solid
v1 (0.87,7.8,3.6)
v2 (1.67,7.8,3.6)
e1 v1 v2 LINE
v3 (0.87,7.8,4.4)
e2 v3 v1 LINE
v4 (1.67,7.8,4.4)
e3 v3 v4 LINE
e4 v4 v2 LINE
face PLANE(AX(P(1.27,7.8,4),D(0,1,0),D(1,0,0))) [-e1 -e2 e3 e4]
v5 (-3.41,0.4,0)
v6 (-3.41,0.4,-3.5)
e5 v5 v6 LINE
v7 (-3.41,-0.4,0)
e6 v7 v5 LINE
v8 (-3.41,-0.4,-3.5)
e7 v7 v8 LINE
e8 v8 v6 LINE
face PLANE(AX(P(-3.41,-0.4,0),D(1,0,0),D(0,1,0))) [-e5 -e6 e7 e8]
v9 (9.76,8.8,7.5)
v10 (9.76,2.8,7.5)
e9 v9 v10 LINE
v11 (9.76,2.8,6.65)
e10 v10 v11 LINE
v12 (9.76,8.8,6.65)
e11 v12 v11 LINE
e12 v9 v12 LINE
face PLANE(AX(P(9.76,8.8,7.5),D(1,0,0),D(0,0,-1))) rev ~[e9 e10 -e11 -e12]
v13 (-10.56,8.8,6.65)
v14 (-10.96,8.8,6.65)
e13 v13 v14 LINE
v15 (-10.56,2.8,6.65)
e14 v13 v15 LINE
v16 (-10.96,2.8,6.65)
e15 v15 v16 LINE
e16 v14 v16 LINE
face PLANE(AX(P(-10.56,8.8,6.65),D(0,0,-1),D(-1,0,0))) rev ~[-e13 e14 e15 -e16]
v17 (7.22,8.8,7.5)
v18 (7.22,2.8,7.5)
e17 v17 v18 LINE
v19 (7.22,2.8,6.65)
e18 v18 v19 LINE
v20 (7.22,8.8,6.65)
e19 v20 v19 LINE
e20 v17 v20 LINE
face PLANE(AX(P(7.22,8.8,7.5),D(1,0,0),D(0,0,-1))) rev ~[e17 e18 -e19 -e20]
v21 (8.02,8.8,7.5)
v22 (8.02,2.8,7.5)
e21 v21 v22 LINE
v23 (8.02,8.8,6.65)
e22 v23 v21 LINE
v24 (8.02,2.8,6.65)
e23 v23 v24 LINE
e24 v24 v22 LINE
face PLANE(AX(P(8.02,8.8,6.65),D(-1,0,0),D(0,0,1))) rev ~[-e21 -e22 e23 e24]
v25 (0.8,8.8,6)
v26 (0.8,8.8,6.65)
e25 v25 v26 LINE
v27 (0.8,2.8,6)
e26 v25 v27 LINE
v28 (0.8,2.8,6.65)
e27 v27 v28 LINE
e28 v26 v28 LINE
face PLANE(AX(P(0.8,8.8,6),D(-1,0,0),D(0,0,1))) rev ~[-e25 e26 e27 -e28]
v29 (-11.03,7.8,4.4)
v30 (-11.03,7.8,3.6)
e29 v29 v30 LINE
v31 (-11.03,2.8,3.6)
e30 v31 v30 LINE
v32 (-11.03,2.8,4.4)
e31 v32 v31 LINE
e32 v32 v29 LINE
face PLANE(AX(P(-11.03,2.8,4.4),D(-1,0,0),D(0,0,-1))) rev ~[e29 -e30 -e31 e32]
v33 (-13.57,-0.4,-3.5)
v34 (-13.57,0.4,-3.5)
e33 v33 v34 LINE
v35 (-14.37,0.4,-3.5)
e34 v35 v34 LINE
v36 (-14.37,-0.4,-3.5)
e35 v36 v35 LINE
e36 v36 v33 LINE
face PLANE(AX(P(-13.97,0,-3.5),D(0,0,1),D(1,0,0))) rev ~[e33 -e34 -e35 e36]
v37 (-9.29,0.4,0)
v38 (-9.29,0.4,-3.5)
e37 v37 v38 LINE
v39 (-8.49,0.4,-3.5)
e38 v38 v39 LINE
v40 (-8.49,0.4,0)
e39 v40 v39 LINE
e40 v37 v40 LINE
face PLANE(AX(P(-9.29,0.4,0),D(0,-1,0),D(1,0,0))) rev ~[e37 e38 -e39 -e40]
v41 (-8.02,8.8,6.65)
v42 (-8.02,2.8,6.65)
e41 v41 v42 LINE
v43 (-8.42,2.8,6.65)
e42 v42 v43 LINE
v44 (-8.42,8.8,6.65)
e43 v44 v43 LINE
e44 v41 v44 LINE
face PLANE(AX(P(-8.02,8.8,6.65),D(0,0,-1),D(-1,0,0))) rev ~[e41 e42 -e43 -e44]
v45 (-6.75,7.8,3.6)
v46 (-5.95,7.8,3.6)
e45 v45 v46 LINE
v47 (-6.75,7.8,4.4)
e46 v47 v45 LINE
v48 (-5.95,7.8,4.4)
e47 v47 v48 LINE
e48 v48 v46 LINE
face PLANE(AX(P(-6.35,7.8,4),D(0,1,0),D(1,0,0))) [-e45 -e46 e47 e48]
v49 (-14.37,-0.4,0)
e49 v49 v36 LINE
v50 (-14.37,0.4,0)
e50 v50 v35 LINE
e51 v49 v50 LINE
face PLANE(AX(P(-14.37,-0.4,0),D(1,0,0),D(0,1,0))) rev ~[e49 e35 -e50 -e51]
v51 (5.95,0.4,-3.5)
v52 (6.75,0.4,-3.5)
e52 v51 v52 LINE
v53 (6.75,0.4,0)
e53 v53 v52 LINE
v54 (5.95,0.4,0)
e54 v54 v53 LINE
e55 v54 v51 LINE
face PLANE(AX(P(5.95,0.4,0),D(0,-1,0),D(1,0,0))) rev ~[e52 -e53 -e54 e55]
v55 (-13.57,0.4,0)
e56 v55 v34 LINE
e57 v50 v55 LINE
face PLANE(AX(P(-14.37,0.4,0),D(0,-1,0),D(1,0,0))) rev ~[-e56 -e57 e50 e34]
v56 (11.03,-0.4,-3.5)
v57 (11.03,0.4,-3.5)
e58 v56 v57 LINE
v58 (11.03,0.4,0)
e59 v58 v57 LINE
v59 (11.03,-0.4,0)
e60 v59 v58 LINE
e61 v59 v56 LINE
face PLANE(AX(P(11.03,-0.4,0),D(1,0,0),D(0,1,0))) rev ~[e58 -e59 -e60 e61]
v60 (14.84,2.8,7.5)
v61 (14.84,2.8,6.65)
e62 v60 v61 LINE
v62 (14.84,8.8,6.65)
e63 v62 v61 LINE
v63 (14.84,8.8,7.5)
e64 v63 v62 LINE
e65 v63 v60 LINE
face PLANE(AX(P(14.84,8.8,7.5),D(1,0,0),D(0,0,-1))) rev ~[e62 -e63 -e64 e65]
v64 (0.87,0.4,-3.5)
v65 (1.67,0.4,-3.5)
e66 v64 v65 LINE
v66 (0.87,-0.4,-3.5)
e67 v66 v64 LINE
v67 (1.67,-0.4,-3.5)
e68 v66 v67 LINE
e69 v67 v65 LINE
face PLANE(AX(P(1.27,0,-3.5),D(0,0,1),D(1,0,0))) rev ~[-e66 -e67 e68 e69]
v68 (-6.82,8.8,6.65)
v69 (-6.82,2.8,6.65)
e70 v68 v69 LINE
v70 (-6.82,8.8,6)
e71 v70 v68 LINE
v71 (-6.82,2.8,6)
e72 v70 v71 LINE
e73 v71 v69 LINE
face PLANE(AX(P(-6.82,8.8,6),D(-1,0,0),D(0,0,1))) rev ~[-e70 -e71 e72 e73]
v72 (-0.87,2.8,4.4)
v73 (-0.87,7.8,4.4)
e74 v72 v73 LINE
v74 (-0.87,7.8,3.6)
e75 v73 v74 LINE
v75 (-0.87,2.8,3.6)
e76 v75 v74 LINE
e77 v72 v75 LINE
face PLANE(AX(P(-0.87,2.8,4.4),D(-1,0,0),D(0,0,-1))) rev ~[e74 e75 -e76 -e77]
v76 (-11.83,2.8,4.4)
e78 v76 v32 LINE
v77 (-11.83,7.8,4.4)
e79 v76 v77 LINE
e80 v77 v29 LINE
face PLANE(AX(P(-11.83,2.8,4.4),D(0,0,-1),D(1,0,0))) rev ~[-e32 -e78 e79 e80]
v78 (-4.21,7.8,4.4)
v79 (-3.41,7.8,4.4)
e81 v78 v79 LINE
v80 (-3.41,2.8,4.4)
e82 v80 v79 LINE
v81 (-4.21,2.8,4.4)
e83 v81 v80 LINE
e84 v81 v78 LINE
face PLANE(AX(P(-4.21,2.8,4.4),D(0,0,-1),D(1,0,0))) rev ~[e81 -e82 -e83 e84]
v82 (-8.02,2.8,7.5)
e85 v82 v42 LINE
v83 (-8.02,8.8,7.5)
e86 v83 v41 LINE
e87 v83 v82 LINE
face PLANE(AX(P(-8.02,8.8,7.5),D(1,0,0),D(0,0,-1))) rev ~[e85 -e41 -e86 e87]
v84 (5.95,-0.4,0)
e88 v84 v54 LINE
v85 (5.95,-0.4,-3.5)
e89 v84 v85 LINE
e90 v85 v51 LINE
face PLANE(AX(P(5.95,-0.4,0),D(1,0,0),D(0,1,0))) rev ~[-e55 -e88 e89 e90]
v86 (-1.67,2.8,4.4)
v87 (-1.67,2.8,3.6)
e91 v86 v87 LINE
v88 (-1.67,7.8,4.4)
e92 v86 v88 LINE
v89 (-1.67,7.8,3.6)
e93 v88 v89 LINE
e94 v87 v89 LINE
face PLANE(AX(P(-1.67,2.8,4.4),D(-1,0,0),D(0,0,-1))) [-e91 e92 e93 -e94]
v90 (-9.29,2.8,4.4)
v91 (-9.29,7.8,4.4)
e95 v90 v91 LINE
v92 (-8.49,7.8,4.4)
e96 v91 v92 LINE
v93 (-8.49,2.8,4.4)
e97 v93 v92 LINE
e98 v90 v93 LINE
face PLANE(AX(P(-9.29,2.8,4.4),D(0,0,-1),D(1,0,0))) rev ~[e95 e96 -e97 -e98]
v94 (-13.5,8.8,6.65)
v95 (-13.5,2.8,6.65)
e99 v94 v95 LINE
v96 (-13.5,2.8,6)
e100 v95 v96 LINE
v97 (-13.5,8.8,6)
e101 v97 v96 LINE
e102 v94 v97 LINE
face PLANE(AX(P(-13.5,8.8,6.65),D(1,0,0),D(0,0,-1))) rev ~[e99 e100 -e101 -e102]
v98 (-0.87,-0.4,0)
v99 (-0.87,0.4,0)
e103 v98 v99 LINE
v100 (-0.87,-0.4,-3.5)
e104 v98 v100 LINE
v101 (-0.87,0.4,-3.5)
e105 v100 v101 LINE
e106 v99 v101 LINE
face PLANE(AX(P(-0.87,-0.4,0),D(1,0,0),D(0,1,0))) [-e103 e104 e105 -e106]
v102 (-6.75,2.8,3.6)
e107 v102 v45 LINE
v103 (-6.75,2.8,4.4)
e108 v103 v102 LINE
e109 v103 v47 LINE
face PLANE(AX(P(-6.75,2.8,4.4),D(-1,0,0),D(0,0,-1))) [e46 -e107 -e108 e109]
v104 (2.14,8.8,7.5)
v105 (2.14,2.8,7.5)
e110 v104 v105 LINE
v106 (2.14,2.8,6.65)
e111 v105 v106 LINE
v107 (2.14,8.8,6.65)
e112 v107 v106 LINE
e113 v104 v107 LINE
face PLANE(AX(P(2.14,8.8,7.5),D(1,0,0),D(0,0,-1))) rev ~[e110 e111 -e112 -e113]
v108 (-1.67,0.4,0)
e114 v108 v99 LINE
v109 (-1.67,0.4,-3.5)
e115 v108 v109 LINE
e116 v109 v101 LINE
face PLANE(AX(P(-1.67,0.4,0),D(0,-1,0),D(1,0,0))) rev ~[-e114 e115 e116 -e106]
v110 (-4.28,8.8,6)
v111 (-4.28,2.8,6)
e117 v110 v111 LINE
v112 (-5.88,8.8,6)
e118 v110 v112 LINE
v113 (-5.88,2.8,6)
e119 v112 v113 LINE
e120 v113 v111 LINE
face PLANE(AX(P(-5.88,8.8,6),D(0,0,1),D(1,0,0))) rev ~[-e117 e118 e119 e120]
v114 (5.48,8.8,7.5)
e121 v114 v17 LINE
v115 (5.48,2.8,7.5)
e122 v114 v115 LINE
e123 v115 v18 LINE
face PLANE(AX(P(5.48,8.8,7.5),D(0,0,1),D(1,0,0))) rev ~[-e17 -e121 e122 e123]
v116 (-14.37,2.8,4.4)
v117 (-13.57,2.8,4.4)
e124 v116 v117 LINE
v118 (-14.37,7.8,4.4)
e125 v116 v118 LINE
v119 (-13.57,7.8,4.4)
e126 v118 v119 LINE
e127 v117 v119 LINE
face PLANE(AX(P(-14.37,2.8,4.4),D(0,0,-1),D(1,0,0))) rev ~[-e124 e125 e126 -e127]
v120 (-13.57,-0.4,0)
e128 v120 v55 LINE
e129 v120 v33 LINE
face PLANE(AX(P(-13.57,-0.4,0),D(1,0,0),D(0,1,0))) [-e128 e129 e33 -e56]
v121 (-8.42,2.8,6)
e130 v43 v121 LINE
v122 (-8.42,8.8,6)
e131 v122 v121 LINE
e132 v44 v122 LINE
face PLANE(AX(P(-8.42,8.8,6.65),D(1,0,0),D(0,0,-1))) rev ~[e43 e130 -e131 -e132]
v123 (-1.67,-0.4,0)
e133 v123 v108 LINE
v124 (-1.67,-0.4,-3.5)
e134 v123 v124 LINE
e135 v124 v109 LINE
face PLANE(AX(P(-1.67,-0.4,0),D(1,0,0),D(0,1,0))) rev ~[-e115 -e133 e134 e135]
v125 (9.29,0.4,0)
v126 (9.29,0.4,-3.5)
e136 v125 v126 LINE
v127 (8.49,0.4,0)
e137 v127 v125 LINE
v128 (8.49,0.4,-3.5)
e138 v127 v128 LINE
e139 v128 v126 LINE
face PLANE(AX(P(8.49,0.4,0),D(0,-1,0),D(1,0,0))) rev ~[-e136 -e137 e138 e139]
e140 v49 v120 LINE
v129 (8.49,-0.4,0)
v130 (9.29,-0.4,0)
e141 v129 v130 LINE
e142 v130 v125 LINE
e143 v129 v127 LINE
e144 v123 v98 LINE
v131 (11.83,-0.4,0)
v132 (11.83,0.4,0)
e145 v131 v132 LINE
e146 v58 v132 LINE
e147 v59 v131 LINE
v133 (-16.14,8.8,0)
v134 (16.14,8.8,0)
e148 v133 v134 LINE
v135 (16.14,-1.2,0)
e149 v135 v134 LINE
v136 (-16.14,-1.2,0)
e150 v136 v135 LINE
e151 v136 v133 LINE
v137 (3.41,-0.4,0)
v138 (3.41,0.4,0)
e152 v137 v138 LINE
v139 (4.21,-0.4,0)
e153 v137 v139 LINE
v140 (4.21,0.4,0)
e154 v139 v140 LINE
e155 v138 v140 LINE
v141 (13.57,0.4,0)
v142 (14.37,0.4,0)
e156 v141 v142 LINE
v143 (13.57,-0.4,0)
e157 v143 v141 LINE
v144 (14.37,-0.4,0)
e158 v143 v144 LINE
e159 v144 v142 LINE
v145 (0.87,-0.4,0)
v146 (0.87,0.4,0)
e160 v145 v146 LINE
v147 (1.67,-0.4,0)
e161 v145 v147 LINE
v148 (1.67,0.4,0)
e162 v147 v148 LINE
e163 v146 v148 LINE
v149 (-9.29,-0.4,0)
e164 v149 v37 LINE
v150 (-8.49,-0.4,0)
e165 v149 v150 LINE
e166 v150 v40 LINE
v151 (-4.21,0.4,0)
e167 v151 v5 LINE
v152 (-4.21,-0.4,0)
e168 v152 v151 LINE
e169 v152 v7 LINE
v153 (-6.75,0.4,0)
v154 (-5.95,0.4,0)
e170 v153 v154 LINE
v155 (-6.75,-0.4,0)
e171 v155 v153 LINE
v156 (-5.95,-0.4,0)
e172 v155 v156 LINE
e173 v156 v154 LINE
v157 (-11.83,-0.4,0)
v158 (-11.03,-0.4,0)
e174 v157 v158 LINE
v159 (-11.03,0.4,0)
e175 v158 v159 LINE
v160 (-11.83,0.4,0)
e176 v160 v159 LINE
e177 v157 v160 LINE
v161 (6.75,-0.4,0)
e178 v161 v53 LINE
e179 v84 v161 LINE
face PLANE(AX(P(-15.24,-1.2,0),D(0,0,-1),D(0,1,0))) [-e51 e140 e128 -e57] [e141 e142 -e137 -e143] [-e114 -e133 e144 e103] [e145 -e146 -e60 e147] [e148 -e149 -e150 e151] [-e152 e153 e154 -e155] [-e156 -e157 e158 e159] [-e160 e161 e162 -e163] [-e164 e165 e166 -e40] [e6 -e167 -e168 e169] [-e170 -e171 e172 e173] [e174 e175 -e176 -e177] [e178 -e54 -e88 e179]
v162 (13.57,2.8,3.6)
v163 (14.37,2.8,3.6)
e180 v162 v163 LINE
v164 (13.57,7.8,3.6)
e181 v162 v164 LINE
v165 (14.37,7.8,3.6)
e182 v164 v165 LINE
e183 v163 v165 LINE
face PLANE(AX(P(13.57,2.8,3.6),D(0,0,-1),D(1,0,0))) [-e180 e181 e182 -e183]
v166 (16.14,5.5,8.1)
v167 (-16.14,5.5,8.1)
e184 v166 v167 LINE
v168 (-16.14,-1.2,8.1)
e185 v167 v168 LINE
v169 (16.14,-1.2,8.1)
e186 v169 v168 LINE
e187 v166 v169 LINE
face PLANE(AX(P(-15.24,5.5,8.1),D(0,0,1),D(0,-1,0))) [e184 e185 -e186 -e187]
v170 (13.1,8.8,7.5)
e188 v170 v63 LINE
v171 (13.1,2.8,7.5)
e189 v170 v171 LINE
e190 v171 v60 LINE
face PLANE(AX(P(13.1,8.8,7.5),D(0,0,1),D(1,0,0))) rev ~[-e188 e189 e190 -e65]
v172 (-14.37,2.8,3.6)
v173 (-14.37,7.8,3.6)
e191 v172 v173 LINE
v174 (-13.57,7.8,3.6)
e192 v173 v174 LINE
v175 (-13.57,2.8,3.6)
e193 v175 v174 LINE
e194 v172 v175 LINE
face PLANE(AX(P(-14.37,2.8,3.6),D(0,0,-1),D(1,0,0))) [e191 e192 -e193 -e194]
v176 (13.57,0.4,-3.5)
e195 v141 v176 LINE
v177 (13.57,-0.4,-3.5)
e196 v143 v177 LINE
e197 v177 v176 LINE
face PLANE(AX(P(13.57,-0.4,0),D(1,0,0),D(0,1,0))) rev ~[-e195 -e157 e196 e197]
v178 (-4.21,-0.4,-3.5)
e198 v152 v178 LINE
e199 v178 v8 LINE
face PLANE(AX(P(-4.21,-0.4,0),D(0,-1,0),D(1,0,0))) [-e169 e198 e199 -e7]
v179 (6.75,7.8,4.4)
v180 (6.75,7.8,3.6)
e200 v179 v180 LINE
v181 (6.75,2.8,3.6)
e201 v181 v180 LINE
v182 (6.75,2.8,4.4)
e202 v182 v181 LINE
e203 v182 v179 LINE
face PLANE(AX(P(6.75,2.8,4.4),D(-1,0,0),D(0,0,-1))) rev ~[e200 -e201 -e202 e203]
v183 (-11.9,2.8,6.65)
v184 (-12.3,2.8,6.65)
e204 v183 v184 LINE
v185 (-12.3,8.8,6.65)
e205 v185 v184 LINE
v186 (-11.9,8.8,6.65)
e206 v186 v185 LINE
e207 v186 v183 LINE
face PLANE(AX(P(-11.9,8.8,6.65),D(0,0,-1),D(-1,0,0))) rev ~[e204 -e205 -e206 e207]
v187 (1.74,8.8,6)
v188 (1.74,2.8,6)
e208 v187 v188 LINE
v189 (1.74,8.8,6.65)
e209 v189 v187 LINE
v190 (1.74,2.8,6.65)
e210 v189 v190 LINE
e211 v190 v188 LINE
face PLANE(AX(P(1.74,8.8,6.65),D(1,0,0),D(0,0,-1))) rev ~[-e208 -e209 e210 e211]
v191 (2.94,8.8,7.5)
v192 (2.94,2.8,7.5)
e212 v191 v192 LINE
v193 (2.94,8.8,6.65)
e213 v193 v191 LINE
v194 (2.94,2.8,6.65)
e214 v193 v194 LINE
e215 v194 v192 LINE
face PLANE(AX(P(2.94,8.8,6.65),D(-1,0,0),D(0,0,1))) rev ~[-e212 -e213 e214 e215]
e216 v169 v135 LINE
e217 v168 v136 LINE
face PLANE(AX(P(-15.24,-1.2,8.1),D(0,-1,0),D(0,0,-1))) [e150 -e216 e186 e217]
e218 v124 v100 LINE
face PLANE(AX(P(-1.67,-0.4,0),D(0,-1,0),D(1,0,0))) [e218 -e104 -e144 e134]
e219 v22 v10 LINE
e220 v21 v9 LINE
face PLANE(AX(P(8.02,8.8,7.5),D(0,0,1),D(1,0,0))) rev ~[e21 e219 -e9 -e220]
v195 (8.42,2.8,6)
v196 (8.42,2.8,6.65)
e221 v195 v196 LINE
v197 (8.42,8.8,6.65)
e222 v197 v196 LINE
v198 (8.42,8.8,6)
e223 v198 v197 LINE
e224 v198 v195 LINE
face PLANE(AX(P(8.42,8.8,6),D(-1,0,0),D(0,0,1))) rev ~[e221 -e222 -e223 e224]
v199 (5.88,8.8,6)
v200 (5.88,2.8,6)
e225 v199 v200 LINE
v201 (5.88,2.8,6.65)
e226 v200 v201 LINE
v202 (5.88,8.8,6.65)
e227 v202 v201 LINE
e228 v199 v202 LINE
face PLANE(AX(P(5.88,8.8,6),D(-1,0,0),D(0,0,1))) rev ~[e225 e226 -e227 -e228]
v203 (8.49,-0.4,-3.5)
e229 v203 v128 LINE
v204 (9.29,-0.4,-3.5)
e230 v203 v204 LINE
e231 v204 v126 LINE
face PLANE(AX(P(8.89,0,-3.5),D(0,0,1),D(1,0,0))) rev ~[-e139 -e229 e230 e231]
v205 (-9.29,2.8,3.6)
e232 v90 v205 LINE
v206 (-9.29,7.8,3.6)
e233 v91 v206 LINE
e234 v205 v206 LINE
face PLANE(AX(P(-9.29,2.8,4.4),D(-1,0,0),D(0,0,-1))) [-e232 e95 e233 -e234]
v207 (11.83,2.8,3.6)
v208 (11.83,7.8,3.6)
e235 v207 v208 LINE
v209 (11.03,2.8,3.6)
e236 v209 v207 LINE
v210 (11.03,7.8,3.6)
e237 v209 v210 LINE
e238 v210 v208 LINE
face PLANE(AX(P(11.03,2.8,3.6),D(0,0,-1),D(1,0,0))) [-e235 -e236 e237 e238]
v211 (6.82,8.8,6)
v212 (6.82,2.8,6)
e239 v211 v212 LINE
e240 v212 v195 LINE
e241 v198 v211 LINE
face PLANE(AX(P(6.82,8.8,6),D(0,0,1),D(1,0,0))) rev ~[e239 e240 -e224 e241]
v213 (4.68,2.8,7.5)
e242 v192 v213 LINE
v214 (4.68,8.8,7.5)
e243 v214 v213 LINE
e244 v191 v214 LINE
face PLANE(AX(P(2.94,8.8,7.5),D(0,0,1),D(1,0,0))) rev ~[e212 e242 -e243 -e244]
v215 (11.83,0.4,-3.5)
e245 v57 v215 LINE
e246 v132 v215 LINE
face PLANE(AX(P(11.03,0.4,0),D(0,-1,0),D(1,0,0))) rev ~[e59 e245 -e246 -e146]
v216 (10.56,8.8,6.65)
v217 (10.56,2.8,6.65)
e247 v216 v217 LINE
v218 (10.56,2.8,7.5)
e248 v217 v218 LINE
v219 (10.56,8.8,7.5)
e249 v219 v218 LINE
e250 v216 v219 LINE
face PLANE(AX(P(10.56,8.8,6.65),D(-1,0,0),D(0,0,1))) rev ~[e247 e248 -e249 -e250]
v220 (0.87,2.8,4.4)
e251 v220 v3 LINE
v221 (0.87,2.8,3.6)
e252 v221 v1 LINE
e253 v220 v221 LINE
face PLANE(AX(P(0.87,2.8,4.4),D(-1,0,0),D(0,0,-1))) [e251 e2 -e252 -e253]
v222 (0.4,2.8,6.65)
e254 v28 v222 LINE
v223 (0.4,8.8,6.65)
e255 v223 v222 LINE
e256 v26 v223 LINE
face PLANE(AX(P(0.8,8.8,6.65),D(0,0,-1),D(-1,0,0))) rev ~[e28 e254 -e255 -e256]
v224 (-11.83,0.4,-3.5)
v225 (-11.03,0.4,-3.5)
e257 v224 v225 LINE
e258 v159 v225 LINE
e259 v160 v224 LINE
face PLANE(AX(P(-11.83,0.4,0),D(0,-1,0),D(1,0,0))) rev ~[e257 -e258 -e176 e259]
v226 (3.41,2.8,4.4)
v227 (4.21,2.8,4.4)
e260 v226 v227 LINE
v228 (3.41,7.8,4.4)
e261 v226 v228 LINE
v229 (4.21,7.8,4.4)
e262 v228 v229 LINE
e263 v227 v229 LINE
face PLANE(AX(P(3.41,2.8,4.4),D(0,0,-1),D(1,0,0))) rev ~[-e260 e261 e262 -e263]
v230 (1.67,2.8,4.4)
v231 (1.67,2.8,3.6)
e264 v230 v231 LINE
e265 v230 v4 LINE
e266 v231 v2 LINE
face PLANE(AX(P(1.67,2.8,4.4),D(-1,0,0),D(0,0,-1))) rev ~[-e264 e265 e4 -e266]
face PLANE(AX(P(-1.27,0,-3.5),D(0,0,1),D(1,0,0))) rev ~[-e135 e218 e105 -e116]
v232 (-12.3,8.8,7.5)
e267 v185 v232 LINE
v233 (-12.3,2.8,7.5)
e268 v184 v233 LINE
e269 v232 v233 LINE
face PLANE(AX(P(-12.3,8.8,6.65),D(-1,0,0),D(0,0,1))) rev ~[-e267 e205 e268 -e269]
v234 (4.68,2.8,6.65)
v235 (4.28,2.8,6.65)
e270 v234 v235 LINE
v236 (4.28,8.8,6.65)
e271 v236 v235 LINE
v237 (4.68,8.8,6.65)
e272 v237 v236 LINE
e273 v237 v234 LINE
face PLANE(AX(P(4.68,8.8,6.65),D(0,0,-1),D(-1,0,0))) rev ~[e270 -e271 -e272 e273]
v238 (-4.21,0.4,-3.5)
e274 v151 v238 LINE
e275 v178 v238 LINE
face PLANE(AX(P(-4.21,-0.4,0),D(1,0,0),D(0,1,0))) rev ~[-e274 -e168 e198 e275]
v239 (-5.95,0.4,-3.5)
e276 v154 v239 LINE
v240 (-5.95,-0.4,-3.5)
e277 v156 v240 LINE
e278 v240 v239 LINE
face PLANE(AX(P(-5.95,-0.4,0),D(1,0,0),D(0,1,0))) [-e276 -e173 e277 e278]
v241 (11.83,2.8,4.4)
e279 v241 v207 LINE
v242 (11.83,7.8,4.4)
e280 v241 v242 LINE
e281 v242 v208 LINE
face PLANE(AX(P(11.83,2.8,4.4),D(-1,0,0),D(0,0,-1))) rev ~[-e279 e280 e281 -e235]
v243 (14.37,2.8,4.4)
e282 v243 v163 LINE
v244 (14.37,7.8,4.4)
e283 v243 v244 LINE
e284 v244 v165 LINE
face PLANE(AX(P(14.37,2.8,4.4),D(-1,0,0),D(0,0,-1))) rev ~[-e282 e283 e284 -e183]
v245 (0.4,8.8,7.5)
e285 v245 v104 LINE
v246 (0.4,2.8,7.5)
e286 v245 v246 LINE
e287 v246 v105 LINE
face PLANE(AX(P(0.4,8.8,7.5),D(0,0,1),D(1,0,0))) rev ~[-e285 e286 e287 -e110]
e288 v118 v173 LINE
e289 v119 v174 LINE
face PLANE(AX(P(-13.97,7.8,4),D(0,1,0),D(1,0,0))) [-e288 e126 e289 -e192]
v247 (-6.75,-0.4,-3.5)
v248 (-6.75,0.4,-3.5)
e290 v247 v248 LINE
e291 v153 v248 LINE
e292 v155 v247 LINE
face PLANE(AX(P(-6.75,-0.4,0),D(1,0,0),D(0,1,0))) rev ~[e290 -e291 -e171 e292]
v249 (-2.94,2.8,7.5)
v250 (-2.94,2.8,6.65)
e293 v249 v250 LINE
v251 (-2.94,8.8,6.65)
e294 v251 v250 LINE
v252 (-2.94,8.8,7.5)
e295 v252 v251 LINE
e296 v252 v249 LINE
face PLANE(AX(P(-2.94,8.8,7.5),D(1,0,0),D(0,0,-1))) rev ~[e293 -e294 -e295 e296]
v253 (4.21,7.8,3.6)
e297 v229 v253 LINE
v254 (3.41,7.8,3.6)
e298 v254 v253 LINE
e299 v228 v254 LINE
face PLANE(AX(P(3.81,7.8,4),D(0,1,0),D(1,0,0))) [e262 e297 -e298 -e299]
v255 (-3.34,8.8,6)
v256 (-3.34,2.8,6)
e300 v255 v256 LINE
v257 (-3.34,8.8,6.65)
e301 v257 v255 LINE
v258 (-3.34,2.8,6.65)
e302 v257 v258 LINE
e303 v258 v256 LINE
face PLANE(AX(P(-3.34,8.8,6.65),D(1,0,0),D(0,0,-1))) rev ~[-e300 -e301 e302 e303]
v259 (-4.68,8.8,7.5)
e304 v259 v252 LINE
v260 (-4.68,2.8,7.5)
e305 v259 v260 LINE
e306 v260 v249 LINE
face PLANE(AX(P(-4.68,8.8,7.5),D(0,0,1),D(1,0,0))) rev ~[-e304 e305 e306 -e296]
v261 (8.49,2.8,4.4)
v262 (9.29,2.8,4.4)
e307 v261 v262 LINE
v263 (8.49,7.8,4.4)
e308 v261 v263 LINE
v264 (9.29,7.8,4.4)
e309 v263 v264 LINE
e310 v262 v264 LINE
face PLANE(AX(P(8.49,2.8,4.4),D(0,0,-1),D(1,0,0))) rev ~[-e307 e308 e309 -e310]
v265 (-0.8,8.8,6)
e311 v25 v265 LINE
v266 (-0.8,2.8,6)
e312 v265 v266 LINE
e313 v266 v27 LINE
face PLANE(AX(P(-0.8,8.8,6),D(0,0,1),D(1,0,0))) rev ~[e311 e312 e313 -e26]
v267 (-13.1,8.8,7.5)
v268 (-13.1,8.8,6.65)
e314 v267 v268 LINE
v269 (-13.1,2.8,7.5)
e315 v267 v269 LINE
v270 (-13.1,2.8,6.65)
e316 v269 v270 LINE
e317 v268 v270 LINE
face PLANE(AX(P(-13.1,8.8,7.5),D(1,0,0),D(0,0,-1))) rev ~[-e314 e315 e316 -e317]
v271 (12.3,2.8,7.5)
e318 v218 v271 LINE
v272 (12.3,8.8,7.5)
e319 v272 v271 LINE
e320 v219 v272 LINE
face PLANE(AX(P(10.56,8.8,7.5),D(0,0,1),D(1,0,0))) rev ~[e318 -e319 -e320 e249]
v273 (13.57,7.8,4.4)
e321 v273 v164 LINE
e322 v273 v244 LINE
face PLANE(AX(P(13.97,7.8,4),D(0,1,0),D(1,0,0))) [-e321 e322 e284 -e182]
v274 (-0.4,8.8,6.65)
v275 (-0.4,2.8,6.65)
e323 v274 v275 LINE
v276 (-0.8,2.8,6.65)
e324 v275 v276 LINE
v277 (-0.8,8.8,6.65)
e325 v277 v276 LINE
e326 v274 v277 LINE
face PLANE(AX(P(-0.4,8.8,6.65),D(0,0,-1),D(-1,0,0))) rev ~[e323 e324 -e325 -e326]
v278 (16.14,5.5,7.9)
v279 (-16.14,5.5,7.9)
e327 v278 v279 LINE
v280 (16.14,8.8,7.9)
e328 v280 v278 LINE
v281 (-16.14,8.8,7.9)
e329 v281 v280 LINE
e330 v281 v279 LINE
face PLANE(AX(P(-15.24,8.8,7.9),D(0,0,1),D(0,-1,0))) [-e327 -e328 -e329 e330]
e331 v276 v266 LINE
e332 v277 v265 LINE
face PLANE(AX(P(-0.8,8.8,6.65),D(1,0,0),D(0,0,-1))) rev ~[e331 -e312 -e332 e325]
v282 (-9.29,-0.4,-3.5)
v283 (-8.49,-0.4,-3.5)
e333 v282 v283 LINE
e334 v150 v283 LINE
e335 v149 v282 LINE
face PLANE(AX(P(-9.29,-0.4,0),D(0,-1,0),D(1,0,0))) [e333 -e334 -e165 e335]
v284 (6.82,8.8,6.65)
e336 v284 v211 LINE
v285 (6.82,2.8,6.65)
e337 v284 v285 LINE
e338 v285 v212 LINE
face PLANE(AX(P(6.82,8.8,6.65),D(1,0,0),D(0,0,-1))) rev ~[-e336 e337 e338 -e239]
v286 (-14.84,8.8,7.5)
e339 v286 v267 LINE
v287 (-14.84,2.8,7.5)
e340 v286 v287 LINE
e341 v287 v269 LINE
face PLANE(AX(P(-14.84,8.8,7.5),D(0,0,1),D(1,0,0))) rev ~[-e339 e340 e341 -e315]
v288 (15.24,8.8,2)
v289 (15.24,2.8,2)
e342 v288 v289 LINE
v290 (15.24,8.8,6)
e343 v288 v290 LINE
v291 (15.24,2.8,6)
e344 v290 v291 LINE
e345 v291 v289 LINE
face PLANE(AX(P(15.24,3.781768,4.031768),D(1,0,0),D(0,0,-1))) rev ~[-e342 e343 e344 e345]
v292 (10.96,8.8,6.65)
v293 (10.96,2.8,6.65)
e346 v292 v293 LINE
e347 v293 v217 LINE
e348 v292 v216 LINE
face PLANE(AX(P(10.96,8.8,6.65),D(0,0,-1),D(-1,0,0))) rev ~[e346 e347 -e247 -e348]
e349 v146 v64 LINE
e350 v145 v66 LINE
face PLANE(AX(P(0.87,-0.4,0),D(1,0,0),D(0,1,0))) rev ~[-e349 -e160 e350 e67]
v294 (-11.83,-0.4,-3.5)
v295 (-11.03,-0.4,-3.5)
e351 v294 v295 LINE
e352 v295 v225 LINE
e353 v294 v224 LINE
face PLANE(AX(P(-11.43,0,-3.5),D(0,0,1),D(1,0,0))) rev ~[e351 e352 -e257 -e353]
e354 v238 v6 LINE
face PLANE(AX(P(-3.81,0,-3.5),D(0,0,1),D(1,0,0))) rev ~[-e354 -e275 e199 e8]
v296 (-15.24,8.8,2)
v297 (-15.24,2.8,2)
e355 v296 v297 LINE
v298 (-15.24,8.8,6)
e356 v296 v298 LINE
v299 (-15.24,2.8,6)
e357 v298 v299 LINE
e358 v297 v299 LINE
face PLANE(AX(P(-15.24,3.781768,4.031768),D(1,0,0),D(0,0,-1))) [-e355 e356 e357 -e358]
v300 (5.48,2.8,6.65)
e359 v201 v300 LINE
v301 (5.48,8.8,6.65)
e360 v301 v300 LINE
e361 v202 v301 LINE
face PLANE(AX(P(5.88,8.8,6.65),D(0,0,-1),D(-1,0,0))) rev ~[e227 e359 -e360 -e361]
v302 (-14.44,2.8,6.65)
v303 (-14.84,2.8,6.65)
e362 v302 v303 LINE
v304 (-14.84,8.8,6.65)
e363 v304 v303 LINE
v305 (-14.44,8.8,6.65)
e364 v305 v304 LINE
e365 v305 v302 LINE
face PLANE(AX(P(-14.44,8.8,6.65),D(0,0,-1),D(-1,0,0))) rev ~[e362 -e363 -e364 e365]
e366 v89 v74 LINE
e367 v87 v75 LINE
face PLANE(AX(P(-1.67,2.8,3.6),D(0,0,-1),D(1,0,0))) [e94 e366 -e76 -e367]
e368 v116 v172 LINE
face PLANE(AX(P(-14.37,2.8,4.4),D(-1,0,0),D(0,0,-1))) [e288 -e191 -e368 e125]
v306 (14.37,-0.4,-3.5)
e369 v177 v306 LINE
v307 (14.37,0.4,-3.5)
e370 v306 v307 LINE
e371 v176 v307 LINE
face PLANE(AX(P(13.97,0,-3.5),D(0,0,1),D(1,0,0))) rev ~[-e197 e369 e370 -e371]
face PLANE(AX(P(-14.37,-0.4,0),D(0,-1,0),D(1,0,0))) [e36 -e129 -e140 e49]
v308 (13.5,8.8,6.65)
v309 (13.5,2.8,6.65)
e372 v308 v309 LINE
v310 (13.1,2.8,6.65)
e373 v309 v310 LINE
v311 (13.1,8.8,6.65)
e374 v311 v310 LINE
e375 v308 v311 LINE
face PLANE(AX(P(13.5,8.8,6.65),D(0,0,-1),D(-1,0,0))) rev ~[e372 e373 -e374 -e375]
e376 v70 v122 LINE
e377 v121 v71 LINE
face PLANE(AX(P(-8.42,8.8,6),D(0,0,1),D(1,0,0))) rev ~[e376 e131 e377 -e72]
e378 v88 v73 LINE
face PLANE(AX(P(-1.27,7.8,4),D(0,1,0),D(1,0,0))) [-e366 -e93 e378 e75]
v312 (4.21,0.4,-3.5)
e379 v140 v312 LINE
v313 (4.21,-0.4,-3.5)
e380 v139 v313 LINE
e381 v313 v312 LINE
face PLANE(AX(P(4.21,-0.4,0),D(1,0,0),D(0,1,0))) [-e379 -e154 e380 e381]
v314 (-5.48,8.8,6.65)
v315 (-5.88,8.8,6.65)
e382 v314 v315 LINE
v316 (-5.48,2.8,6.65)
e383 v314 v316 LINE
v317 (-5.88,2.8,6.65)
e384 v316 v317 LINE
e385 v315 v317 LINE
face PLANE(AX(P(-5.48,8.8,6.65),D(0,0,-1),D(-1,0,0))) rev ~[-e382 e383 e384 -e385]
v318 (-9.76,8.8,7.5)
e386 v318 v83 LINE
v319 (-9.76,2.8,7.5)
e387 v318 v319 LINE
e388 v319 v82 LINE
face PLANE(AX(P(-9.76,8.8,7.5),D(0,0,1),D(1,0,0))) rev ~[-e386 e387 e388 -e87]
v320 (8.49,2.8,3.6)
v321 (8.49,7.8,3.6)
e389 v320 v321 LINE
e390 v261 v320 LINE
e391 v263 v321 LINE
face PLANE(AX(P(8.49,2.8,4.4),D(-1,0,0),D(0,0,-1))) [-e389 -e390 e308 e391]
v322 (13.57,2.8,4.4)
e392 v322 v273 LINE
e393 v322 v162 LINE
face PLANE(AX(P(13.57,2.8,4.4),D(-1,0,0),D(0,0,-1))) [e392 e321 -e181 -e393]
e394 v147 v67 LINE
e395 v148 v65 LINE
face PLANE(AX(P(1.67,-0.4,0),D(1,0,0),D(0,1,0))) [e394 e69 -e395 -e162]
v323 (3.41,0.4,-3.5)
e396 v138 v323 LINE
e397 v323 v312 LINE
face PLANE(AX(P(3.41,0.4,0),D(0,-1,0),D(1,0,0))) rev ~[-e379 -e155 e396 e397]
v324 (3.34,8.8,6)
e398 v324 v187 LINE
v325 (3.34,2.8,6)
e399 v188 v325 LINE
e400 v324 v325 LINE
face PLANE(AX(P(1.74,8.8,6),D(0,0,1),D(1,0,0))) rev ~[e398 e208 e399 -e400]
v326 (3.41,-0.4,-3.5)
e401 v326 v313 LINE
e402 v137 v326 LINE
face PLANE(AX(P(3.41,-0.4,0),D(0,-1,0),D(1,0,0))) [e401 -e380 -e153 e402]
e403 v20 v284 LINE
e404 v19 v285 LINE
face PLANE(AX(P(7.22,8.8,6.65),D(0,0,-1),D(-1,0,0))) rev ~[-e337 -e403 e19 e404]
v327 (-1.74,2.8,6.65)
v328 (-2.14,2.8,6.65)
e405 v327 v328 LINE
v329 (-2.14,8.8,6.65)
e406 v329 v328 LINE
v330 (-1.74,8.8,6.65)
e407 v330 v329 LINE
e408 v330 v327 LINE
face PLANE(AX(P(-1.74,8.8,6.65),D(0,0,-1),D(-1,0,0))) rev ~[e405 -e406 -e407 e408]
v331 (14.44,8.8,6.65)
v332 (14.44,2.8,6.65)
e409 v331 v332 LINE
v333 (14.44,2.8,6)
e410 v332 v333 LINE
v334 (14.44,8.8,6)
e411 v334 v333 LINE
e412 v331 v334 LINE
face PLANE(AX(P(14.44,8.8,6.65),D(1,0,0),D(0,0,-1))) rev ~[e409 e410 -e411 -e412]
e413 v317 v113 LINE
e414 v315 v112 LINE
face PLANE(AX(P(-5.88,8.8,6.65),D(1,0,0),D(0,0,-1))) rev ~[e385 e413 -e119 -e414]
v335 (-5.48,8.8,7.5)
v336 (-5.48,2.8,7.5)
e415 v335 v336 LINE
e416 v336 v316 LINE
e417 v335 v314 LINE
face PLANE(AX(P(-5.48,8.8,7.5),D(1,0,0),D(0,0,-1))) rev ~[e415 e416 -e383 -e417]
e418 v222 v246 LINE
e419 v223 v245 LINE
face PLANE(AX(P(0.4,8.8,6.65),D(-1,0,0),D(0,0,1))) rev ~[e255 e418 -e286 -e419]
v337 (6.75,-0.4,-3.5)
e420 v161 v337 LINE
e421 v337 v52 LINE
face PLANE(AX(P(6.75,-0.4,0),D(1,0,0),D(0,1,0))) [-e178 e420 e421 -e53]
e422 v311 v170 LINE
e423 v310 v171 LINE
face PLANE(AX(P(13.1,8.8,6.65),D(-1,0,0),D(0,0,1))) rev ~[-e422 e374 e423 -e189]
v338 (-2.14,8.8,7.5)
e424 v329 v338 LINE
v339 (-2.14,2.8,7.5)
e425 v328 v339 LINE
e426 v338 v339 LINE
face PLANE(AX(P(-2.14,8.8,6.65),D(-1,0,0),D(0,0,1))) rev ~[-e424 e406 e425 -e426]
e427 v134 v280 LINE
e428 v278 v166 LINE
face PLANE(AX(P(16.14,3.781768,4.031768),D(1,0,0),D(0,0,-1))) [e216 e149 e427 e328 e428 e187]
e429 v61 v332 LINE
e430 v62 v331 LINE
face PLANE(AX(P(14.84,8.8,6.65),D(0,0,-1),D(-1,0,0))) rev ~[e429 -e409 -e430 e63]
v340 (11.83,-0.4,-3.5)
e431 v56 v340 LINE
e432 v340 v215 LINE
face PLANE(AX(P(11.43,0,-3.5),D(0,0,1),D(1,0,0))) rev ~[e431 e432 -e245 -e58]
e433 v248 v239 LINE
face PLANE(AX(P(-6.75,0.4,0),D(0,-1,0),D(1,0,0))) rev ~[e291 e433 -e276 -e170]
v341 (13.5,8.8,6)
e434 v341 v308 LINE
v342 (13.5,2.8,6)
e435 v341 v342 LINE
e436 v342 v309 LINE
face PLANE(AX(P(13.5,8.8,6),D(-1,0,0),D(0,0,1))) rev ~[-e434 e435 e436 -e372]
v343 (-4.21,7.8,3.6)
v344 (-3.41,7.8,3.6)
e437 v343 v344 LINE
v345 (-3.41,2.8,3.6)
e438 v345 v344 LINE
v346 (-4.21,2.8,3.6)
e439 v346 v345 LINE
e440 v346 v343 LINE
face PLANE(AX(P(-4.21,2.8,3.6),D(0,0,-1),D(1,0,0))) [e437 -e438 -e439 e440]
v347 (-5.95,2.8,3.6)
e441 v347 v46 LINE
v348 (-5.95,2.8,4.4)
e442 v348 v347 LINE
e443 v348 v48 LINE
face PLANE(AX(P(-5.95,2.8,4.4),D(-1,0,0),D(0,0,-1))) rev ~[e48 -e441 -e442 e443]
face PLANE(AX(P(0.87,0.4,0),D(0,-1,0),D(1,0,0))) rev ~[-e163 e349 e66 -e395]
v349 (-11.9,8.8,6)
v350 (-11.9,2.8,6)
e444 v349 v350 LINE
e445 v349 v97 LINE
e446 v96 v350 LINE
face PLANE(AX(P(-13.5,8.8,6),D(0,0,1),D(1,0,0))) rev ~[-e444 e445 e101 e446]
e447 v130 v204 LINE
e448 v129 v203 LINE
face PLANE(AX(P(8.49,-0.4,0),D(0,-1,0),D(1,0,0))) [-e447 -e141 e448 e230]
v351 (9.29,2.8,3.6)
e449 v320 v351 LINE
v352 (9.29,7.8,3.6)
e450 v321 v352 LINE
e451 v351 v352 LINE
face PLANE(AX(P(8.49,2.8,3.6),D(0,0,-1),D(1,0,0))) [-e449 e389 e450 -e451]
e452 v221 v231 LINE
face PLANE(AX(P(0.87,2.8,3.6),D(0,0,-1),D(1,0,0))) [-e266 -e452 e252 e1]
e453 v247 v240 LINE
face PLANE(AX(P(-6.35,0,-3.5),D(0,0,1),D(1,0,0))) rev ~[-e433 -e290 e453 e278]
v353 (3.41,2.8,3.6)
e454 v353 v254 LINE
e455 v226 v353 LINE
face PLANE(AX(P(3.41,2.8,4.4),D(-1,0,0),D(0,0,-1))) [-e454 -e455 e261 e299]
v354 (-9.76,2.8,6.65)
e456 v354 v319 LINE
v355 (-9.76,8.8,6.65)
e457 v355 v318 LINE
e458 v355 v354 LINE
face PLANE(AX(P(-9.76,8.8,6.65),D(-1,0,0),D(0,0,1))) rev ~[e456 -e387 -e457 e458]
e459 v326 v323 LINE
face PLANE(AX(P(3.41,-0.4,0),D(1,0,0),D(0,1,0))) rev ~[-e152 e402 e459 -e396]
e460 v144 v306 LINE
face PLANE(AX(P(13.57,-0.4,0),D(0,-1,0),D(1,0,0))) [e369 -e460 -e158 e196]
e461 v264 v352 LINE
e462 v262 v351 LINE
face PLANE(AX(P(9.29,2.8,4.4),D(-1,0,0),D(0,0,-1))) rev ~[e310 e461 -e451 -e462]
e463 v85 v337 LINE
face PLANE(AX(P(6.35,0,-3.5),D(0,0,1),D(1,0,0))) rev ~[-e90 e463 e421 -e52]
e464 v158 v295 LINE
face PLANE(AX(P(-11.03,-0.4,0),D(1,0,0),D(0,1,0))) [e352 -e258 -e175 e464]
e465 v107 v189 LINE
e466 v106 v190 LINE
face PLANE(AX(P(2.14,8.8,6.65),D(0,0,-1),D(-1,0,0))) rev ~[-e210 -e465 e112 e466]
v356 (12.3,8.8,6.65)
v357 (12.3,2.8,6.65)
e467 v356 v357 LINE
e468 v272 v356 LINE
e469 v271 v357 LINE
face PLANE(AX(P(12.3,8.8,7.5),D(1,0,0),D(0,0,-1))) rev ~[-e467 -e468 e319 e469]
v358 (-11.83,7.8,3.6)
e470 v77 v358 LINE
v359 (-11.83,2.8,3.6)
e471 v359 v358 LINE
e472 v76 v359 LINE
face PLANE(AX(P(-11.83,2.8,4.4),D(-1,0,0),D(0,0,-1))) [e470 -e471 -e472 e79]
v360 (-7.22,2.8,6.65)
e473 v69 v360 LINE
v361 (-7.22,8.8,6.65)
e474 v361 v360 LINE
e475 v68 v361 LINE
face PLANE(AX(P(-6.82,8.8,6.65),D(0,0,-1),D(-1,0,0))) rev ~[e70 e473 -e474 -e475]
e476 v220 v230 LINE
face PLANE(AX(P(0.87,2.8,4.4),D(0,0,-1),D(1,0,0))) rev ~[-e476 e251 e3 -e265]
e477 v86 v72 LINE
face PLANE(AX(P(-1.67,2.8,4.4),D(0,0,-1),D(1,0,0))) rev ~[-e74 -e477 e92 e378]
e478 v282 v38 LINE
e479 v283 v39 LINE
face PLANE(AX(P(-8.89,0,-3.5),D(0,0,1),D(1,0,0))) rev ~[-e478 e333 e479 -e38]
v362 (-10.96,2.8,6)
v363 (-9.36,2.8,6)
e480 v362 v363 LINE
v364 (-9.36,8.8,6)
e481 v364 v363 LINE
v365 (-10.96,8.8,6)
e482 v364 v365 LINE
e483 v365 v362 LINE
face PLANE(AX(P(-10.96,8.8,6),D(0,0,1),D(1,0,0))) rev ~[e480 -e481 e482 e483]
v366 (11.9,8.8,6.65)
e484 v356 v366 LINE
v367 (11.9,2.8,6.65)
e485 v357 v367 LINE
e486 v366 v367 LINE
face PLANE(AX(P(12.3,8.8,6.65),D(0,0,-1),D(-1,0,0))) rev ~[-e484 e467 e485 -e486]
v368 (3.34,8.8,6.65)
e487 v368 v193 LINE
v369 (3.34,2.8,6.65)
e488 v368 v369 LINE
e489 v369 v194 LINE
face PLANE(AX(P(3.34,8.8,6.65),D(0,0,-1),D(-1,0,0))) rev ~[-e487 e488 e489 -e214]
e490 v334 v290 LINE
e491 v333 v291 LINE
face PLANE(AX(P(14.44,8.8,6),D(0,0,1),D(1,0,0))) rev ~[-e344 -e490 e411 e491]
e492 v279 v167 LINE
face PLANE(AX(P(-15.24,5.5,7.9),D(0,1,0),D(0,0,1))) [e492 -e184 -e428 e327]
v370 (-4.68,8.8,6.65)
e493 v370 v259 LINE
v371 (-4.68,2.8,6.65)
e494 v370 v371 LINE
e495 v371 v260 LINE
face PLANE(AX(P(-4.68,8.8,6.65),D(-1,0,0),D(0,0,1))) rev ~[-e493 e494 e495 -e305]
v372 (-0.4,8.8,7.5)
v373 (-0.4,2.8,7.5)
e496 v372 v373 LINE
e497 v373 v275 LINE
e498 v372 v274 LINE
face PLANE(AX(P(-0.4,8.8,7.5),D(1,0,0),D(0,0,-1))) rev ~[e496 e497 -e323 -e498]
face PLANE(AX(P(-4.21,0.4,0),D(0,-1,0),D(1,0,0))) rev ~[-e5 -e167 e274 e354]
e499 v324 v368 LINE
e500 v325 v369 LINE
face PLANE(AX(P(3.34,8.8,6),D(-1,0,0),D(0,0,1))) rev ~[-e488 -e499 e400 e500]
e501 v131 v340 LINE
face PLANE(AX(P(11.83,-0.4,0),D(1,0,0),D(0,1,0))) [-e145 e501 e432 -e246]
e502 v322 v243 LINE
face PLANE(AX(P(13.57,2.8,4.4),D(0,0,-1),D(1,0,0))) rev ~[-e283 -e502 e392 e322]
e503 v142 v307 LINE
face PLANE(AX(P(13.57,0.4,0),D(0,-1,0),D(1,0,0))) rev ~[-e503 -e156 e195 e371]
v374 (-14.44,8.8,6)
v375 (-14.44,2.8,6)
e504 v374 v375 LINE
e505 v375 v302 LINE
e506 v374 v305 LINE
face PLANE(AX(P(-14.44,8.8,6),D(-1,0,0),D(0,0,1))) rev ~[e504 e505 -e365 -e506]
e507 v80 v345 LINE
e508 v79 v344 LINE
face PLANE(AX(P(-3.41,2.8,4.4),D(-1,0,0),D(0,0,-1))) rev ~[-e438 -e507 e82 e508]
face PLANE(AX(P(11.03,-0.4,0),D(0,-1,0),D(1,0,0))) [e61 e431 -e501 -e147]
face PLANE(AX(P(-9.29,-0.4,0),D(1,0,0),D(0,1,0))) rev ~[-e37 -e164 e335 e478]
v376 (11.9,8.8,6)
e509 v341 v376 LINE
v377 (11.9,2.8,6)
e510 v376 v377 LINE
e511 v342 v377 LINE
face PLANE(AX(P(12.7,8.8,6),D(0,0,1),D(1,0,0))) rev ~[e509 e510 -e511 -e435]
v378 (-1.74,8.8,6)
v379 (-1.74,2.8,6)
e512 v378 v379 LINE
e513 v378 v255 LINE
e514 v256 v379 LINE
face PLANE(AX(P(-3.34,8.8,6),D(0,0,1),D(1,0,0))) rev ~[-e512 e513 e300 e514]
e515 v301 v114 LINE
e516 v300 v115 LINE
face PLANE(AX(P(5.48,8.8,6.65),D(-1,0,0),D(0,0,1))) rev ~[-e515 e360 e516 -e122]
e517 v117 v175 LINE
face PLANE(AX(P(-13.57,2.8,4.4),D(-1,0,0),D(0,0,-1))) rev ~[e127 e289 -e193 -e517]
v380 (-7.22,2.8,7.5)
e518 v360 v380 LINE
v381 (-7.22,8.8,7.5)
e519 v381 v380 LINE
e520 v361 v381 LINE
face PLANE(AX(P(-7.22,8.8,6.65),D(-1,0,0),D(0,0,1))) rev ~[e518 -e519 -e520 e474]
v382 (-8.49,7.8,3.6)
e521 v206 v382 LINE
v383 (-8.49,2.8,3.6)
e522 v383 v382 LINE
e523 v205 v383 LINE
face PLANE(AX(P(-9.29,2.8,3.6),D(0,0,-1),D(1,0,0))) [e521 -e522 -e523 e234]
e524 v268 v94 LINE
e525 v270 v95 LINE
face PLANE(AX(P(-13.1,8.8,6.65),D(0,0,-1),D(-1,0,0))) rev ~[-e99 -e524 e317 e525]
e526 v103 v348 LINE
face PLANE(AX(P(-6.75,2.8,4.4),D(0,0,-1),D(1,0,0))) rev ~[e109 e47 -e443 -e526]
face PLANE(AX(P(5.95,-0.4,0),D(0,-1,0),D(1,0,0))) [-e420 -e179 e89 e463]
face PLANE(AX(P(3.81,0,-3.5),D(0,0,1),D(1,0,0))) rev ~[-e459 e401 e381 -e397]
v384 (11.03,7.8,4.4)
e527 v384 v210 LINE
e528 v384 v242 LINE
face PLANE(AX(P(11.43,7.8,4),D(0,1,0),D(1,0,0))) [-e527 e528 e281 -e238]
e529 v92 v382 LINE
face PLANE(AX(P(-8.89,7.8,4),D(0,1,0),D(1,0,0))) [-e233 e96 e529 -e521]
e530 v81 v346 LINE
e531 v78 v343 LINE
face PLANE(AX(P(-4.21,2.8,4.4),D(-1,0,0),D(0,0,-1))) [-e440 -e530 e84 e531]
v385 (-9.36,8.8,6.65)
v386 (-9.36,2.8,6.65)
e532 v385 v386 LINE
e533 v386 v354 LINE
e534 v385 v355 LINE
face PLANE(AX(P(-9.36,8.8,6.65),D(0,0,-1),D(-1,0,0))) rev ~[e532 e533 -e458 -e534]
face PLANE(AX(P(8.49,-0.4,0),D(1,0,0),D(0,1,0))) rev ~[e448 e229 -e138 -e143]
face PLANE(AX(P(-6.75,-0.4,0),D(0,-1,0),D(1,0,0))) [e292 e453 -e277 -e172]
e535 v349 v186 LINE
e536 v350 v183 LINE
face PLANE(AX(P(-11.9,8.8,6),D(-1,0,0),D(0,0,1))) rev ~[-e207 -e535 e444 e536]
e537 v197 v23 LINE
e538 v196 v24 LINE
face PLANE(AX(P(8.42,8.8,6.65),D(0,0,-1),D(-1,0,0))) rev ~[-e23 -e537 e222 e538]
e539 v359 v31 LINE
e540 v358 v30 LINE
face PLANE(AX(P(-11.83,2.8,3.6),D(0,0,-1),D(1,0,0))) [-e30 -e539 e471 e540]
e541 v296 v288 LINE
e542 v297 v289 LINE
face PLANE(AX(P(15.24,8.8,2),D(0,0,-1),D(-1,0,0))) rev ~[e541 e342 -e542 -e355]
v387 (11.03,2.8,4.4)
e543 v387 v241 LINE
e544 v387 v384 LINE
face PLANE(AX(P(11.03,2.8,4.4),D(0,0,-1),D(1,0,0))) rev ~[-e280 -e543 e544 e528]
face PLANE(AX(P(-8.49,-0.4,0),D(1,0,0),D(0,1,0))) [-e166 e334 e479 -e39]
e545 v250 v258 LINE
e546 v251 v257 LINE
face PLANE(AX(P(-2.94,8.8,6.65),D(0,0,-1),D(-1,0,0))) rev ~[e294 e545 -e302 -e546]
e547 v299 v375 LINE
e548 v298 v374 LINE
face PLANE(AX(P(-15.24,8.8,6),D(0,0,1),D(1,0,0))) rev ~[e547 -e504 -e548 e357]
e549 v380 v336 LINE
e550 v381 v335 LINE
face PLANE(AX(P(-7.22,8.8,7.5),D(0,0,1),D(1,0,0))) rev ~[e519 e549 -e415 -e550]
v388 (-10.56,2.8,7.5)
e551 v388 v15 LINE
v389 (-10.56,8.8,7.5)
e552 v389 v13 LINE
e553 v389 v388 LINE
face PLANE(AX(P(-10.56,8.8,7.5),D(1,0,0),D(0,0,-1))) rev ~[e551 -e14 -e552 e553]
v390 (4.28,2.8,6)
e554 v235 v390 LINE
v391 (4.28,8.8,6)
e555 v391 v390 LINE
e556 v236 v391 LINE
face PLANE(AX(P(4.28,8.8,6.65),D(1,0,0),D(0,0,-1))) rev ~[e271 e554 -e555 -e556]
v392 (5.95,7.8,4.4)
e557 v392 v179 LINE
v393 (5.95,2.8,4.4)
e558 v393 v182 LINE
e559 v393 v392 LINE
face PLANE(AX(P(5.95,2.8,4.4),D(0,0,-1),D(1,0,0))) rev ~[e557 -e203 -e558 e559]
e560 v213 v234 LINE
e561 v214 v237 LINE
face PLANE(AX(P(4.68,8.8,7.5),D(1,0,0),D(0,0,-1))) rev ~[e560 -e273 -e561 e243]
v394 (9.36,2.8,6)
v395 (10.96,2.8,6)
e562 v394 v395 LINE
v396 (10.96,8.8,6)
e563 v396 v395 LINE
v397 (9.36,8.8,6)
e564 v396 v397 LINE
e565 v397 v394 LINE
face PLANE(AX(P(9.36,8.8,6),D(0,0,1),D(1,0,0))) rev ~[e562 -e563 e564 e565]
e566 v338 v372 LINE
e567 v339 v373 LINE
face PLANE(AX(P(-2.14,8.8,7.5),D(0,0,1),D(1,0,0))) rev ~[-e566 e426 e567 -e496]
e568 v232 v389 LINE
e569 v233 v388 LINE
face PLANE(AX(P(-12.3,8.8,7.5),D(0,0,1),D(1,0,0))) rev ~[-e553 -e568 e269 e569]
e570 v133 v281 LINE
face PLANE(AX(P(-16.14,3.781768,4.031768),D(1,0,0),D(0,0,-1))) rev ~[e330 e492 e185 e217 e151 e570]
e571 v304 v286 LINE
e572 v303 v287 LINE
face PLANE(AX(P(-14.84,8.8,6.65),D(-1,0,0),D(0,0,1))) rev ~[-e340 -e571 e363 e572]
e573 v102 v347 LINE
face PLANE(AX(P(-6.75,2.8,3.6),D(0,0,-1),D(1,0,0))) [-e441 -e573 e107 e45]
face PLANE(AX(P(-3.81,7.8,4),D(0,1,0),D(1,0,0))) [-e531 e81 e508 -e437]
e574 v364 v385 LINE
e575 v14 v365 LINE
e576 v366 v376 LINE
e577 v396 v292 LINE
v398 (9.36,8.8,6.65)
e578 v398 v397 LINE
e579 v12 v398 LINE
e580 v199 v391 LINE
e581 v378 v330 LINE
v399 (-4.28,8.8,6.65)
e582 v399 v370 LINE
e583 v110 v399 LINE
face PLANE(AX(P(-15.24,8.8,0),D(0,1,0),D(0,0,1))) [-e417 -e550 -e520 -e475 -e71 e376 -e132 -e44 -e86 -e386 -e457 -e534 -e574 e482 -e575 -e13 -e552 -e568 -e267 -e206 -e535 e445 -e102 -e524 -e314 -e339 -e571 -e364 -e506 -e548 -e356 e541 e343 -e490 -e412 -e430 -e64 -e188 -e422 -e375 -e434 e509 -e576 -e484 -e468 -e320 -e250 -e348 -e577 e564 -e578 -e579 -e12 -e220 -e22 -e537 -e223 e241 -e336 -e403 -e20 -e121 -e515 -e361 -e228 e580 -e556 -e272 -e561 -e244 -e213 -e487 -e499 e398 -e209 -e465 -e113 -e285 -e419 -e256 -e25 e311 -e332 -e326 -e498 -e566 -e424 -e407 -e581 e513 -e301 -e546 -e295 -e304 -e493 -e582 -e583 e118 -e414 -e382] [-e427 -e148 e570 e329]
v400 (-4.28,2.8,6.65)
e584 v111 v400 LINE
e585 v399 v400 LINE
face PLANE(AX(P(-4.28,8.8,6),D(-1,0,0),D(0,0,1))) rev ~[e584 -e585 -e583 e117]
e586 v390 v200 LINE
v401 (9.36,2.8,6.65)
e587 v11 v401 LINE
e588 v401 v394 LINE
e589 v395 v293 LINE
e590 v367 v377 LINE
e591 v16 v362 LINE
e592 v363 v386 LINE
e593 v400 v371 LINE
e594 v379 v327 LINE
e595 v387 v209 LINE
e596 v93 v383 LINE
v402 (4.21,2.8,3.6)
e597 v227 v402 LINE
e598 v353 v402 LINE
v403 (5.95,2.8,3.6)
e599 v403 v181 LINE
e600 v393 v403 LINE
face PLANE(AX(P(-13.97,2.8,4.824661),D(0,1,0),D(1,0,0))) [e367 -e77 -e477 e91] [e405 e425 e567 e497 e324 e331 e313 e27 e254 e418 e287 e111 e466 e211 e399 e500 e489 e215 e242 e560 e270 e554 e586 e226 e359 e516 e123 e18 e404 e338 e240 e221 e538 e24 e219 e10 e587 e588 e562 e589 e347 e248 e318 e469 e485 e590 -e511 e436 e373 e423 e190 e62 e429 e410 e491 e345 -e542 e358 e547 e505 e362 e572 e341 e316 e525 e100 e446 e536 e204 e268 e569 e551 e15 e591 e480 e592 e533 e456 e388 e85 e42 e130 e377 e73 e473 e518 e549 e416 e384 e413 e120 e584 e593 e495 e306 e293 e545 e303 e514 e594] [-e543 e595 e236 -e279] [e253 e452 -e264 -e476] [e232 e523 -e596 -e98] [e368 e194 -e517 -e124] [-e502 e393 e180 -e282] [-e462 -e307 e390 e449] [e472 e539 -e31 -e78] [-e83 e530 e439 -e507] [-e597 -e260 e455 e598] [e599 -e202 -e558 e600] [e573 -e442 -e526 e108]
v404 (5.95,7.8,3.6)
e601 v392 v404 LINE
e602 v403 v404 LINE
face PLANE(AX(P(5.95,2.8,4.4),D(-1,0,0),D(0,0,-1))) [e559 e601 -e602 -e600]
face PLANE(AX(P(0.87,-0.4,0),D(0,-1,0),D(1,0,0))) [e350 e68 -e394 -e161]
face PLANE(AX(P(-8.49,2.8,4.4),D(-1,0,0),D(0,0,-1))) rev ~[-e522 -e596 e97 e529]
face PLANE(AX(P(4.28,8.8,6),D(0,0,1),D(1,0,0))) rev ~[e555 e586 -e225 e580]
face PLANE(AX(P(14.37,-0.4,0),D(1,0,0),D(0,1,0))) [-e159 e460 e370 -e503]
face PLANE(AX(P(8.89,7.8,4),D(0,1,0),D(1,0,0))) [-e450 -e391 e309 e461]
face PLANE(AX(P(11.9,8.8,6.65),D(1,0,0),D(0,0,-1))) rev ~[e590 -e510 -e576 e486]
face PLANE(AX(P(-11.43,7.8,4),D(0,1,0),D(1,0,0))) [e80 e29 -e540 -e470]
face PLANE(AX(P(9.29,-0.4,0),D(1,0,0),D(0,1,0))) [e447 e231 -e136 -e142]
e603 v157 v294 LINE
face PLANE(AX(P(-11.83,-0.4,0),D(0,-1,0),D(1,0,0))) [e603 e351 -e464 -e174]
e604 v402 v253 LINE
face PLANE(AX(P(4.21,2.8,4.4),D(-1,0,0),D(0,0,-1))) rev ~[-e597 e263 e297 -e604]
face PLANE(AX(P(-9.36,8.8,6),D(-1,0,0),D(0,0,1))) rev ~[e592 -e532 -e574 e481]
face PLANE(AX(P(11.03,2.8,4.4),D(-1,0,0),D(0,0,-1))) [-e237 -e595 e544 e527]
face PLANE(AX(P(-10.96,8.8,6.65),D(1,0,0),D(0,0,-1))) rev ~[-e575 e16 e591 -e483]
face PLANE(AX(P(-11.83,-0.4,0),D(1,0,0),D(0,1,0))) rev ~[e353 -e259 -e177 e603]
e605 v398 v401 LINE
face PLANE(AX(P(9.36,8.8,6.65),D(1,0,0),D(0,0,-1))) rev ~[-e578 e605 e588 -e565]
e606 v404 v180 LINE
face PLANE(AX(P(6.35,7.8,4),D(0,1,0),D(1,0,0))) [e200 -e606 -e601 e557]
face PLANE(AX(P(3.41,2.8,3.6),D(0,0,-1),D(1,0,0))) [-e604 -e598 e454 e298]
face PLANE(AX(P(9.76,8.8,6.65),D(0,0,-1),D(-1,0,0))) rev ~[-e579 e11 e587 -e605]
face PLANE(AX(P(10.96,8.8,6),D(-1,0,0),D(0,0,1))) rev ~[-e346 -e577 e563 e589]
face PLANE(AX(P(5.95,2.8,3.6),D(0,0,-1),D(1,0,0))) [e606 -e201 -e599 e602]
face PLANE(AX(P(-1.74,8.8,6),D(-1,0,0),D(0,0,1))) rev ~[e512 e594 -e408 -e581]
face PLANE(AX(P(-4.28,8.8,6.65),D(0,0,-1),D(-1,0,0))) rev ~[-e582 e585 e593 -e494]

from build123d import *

# Parameters (mm, degrees)
SKETCH1_W           = 2.54
SKETCH1_H           = 10
BOSS_EXTRUDE1_DEPTH = 8.1
SKETCH1_3_W         = 0.8
SKETCH1_3_H         = 0.8
BOSS_EXTRUDE2_DEPTH = 3.5
SKETCH2_W           = 2.54
SKETCH2_H           = 3.3
CUT_EXTRUDE1_DEPTH  = 0.2
CUT_EXTRUDE2_DEPTH  = 6
SKETCH4_W           = 0.8
SKETCH4_H           = 0.8
BOSS_EXTRUDE3_DEPTH = 5
LPATTERN1_COUNT     = 12
LPATTERN1_PITCH     = 2.54
BOSS_EXTRUDE4_DEPTH = 0.9
BOSS_EXTRUDE5_START = -30.48
BOSS_EXTRUDE5_DEPTH = 0.9


with BuildPart() as part:
    # Sketch1 → Boss-Extrude1 (new body)
    with BuildSketch(Plane.XY):
        with Locations((13.97, 3.8)):
            Rectangle(SKETCH1_W, SKETCH1_H)
    extrude(amount=BOSS_EXTRUDE1_DEPTH)

    # Sketch1<3> → Boss-Extrude2 (add)
    with BuildSketch(Plane.XY):
        with Locations((13.97, 0)):
            Rectangle(SKETCH1_3_W, SKETCH1_3_H)
    extrude(amount=-BOSS_EXTRUDE2_DEPTH)

    # Sketch2 → Cut-Extrude1 (cut)
    with BuildSketch(Plane.XY.offset(8.1)):
        with Locations((13.97, 7.15)):
            Rectangle(SKETCH2_W, SKETCH2_H)
    extrude(amount=-CUT_EXTRUDE1_DEPTH, mode=Mode.SUBTRACT)

    # Sketch3 → Cut-Extrude2 (cut)
    with BuildSketch(Plane(origin=(0, 8.8, 0), x_dir=(1, 0, 0), z_dir=(0, 1, 0))):
        Polygon((15.24, -2), (12.7, -2), (12.7, -6), (13.5, -6), (13.5, -6.65), (13.1, -6.65), (13.1, -7.5), (14.84, -7.5), (14.84, -6.65), (14.44, -6.65), (14.44, -6), (15.24, -6), align=None)
    extrude(amount=-CUT_EXTRUDE2_DEPTH, mode=Mode.SUBTRACT)

    # Sketch4 → Boss-Extrude3 (add)
    with BuildSketch(Plane(origin=(0, 2.8, 0), x_dir=(1, 0, 0), z_dir=(0, 1, 0))):
        with Locations((13.97, -4)):
            Rectangle(SKETCH4_W, SKETCH4_H)
    extrude(amount=BOSS_EXTRUDE3_DEPTH)


with BuildPart() as lpattern1_1:
    # LPattern1: pattern copy
    add(part.part.moved(Location(Vector(-1, 0, 0) * (1 * LPATTERN1_PITCH))))


with BuildPart() as lpattern1_2:
    # LPattern1: pattern copy
    add(part.part.moved(Location(Vector(-1, 0, 0) * (2 * LPATTERN1_PITCH))))


with BuildPart() as lpattern1_3:
    # LPattern1: pattern copy
    add(part.part.moved(Location(Vector(-1, 0, 0) * (3 * LPATTERN1_PITCH))))


with BuildPart() as lpattern1_4:
    # LPattern1: pattern copy
    add(part.part.moved(Location(Vector(-1, 0, 0) * (4 * LPATTERN1_PITCH))))


with BuildPart() as lpattern1_5:
    # LPattern1: pattern copy
    add(part.part.moved(Location(Vector(-1, 0, 0) * (5 * LPATTERN1_PITCH))))


with BuildPart() as lpattern1_6:
    # LPattern1: pattern copy
    add(part.part.moved(Location(Vector(-1, 0, 0) * (6 * LPATTERN1_PITCH))))


with BuildPart() as lpattern1_7:
    # LPattern1: pattern copy
    add(part.part.moved(Location(Vector(-1, 0, 0) * (7 * LPATTERN1_PITCH))))


with BuildPart() as lpattern1_8:
    # LPattern1: pattern copy
    add(part.part.moved(Location(Vector(-1, 0, 0) * (8 * LPATTERN1_PITCH))))


with BuildPart() as lpattern1_9:
    # LPattern1: pattern copy
    add(part.part.moved(Location(Vector(-1, 0, 0) * (9 * LPATTERN1_PITCH))))


with BuildPart() as lpattern1_10:
    # LPattern1: pattern copy
    add(part.part.moved(Location(Vector(-1, 0, 0) * (10 * LPATTERN1_PITCH))))


with BuildPart() as lpattern1_11:
    # LPattern1: pattern copy
    add(part.part.moved(Location(Vector(-1, 0, 0) * (11 * LPATTERN1_PITCH))))


with BuildPart() as part_1:
    add(part.part)

    # Sketch5 → Boss-Extrude4 (add)
    with BuildSketch(Plane(origin=(15.24, 0, 0), x_dir=(0, 0, -1), z_dir=(1, 0, 0))):
        Polygon((-8.1, -1.2), (0, -1.2), (0, 8.8), (-7.9, 8.8), (-7.9, 5.5), (-8.1, 5.5), align=None)
    extrude(amount=BOSS_EXTRUDE4_DEPTH)


with BuildPart() as body_13:
    # Sketch5<2> → Boss-Extrude5 (new body)
    with BuildSketch(Plane(origin=(15.24, 0, 0), x_dir=(0, 0, -1), z_dir=(1, 0, 0)).offset(BOSS_EXTRUDE5_START)):
        Polygon((-8.1, -1.2), (0, -1.2), (0, 8.8), (-7.9, 8.8), (-7.9, 5.5), (-8.1, 5.5), align=None)
    extrude(amount=-BOSS_EXTRUDE5_DEPTH)


with BuildPart() as lpattern1_1_1:
    add(lpattern1_1.part)

    # Combine1: union LPattern1_2, LPattern1_3, LPattern1_4, LPattern1_5, LPattern1_6, LPattern1_7, LPattern1_8, LPattern1_9, LPattern1_10, LPattern1_11, part, body 13
    add(lpattern1_2.part)
    add(lpattern1_3.part)
    add(lpattern1_4.part)
    add(lpattern1_5.part)
    add(lpattern1_6.part)
    add(lpattern1_7.part)
    add(lpattern1_8.part)
    add(lpattern1_9.part)
    add(lpattern1_10.part)
    add(lpattern1_11.part)
    add(part_1.part)
    add(body_13.part)


solid = lpattern1_1_1.part
